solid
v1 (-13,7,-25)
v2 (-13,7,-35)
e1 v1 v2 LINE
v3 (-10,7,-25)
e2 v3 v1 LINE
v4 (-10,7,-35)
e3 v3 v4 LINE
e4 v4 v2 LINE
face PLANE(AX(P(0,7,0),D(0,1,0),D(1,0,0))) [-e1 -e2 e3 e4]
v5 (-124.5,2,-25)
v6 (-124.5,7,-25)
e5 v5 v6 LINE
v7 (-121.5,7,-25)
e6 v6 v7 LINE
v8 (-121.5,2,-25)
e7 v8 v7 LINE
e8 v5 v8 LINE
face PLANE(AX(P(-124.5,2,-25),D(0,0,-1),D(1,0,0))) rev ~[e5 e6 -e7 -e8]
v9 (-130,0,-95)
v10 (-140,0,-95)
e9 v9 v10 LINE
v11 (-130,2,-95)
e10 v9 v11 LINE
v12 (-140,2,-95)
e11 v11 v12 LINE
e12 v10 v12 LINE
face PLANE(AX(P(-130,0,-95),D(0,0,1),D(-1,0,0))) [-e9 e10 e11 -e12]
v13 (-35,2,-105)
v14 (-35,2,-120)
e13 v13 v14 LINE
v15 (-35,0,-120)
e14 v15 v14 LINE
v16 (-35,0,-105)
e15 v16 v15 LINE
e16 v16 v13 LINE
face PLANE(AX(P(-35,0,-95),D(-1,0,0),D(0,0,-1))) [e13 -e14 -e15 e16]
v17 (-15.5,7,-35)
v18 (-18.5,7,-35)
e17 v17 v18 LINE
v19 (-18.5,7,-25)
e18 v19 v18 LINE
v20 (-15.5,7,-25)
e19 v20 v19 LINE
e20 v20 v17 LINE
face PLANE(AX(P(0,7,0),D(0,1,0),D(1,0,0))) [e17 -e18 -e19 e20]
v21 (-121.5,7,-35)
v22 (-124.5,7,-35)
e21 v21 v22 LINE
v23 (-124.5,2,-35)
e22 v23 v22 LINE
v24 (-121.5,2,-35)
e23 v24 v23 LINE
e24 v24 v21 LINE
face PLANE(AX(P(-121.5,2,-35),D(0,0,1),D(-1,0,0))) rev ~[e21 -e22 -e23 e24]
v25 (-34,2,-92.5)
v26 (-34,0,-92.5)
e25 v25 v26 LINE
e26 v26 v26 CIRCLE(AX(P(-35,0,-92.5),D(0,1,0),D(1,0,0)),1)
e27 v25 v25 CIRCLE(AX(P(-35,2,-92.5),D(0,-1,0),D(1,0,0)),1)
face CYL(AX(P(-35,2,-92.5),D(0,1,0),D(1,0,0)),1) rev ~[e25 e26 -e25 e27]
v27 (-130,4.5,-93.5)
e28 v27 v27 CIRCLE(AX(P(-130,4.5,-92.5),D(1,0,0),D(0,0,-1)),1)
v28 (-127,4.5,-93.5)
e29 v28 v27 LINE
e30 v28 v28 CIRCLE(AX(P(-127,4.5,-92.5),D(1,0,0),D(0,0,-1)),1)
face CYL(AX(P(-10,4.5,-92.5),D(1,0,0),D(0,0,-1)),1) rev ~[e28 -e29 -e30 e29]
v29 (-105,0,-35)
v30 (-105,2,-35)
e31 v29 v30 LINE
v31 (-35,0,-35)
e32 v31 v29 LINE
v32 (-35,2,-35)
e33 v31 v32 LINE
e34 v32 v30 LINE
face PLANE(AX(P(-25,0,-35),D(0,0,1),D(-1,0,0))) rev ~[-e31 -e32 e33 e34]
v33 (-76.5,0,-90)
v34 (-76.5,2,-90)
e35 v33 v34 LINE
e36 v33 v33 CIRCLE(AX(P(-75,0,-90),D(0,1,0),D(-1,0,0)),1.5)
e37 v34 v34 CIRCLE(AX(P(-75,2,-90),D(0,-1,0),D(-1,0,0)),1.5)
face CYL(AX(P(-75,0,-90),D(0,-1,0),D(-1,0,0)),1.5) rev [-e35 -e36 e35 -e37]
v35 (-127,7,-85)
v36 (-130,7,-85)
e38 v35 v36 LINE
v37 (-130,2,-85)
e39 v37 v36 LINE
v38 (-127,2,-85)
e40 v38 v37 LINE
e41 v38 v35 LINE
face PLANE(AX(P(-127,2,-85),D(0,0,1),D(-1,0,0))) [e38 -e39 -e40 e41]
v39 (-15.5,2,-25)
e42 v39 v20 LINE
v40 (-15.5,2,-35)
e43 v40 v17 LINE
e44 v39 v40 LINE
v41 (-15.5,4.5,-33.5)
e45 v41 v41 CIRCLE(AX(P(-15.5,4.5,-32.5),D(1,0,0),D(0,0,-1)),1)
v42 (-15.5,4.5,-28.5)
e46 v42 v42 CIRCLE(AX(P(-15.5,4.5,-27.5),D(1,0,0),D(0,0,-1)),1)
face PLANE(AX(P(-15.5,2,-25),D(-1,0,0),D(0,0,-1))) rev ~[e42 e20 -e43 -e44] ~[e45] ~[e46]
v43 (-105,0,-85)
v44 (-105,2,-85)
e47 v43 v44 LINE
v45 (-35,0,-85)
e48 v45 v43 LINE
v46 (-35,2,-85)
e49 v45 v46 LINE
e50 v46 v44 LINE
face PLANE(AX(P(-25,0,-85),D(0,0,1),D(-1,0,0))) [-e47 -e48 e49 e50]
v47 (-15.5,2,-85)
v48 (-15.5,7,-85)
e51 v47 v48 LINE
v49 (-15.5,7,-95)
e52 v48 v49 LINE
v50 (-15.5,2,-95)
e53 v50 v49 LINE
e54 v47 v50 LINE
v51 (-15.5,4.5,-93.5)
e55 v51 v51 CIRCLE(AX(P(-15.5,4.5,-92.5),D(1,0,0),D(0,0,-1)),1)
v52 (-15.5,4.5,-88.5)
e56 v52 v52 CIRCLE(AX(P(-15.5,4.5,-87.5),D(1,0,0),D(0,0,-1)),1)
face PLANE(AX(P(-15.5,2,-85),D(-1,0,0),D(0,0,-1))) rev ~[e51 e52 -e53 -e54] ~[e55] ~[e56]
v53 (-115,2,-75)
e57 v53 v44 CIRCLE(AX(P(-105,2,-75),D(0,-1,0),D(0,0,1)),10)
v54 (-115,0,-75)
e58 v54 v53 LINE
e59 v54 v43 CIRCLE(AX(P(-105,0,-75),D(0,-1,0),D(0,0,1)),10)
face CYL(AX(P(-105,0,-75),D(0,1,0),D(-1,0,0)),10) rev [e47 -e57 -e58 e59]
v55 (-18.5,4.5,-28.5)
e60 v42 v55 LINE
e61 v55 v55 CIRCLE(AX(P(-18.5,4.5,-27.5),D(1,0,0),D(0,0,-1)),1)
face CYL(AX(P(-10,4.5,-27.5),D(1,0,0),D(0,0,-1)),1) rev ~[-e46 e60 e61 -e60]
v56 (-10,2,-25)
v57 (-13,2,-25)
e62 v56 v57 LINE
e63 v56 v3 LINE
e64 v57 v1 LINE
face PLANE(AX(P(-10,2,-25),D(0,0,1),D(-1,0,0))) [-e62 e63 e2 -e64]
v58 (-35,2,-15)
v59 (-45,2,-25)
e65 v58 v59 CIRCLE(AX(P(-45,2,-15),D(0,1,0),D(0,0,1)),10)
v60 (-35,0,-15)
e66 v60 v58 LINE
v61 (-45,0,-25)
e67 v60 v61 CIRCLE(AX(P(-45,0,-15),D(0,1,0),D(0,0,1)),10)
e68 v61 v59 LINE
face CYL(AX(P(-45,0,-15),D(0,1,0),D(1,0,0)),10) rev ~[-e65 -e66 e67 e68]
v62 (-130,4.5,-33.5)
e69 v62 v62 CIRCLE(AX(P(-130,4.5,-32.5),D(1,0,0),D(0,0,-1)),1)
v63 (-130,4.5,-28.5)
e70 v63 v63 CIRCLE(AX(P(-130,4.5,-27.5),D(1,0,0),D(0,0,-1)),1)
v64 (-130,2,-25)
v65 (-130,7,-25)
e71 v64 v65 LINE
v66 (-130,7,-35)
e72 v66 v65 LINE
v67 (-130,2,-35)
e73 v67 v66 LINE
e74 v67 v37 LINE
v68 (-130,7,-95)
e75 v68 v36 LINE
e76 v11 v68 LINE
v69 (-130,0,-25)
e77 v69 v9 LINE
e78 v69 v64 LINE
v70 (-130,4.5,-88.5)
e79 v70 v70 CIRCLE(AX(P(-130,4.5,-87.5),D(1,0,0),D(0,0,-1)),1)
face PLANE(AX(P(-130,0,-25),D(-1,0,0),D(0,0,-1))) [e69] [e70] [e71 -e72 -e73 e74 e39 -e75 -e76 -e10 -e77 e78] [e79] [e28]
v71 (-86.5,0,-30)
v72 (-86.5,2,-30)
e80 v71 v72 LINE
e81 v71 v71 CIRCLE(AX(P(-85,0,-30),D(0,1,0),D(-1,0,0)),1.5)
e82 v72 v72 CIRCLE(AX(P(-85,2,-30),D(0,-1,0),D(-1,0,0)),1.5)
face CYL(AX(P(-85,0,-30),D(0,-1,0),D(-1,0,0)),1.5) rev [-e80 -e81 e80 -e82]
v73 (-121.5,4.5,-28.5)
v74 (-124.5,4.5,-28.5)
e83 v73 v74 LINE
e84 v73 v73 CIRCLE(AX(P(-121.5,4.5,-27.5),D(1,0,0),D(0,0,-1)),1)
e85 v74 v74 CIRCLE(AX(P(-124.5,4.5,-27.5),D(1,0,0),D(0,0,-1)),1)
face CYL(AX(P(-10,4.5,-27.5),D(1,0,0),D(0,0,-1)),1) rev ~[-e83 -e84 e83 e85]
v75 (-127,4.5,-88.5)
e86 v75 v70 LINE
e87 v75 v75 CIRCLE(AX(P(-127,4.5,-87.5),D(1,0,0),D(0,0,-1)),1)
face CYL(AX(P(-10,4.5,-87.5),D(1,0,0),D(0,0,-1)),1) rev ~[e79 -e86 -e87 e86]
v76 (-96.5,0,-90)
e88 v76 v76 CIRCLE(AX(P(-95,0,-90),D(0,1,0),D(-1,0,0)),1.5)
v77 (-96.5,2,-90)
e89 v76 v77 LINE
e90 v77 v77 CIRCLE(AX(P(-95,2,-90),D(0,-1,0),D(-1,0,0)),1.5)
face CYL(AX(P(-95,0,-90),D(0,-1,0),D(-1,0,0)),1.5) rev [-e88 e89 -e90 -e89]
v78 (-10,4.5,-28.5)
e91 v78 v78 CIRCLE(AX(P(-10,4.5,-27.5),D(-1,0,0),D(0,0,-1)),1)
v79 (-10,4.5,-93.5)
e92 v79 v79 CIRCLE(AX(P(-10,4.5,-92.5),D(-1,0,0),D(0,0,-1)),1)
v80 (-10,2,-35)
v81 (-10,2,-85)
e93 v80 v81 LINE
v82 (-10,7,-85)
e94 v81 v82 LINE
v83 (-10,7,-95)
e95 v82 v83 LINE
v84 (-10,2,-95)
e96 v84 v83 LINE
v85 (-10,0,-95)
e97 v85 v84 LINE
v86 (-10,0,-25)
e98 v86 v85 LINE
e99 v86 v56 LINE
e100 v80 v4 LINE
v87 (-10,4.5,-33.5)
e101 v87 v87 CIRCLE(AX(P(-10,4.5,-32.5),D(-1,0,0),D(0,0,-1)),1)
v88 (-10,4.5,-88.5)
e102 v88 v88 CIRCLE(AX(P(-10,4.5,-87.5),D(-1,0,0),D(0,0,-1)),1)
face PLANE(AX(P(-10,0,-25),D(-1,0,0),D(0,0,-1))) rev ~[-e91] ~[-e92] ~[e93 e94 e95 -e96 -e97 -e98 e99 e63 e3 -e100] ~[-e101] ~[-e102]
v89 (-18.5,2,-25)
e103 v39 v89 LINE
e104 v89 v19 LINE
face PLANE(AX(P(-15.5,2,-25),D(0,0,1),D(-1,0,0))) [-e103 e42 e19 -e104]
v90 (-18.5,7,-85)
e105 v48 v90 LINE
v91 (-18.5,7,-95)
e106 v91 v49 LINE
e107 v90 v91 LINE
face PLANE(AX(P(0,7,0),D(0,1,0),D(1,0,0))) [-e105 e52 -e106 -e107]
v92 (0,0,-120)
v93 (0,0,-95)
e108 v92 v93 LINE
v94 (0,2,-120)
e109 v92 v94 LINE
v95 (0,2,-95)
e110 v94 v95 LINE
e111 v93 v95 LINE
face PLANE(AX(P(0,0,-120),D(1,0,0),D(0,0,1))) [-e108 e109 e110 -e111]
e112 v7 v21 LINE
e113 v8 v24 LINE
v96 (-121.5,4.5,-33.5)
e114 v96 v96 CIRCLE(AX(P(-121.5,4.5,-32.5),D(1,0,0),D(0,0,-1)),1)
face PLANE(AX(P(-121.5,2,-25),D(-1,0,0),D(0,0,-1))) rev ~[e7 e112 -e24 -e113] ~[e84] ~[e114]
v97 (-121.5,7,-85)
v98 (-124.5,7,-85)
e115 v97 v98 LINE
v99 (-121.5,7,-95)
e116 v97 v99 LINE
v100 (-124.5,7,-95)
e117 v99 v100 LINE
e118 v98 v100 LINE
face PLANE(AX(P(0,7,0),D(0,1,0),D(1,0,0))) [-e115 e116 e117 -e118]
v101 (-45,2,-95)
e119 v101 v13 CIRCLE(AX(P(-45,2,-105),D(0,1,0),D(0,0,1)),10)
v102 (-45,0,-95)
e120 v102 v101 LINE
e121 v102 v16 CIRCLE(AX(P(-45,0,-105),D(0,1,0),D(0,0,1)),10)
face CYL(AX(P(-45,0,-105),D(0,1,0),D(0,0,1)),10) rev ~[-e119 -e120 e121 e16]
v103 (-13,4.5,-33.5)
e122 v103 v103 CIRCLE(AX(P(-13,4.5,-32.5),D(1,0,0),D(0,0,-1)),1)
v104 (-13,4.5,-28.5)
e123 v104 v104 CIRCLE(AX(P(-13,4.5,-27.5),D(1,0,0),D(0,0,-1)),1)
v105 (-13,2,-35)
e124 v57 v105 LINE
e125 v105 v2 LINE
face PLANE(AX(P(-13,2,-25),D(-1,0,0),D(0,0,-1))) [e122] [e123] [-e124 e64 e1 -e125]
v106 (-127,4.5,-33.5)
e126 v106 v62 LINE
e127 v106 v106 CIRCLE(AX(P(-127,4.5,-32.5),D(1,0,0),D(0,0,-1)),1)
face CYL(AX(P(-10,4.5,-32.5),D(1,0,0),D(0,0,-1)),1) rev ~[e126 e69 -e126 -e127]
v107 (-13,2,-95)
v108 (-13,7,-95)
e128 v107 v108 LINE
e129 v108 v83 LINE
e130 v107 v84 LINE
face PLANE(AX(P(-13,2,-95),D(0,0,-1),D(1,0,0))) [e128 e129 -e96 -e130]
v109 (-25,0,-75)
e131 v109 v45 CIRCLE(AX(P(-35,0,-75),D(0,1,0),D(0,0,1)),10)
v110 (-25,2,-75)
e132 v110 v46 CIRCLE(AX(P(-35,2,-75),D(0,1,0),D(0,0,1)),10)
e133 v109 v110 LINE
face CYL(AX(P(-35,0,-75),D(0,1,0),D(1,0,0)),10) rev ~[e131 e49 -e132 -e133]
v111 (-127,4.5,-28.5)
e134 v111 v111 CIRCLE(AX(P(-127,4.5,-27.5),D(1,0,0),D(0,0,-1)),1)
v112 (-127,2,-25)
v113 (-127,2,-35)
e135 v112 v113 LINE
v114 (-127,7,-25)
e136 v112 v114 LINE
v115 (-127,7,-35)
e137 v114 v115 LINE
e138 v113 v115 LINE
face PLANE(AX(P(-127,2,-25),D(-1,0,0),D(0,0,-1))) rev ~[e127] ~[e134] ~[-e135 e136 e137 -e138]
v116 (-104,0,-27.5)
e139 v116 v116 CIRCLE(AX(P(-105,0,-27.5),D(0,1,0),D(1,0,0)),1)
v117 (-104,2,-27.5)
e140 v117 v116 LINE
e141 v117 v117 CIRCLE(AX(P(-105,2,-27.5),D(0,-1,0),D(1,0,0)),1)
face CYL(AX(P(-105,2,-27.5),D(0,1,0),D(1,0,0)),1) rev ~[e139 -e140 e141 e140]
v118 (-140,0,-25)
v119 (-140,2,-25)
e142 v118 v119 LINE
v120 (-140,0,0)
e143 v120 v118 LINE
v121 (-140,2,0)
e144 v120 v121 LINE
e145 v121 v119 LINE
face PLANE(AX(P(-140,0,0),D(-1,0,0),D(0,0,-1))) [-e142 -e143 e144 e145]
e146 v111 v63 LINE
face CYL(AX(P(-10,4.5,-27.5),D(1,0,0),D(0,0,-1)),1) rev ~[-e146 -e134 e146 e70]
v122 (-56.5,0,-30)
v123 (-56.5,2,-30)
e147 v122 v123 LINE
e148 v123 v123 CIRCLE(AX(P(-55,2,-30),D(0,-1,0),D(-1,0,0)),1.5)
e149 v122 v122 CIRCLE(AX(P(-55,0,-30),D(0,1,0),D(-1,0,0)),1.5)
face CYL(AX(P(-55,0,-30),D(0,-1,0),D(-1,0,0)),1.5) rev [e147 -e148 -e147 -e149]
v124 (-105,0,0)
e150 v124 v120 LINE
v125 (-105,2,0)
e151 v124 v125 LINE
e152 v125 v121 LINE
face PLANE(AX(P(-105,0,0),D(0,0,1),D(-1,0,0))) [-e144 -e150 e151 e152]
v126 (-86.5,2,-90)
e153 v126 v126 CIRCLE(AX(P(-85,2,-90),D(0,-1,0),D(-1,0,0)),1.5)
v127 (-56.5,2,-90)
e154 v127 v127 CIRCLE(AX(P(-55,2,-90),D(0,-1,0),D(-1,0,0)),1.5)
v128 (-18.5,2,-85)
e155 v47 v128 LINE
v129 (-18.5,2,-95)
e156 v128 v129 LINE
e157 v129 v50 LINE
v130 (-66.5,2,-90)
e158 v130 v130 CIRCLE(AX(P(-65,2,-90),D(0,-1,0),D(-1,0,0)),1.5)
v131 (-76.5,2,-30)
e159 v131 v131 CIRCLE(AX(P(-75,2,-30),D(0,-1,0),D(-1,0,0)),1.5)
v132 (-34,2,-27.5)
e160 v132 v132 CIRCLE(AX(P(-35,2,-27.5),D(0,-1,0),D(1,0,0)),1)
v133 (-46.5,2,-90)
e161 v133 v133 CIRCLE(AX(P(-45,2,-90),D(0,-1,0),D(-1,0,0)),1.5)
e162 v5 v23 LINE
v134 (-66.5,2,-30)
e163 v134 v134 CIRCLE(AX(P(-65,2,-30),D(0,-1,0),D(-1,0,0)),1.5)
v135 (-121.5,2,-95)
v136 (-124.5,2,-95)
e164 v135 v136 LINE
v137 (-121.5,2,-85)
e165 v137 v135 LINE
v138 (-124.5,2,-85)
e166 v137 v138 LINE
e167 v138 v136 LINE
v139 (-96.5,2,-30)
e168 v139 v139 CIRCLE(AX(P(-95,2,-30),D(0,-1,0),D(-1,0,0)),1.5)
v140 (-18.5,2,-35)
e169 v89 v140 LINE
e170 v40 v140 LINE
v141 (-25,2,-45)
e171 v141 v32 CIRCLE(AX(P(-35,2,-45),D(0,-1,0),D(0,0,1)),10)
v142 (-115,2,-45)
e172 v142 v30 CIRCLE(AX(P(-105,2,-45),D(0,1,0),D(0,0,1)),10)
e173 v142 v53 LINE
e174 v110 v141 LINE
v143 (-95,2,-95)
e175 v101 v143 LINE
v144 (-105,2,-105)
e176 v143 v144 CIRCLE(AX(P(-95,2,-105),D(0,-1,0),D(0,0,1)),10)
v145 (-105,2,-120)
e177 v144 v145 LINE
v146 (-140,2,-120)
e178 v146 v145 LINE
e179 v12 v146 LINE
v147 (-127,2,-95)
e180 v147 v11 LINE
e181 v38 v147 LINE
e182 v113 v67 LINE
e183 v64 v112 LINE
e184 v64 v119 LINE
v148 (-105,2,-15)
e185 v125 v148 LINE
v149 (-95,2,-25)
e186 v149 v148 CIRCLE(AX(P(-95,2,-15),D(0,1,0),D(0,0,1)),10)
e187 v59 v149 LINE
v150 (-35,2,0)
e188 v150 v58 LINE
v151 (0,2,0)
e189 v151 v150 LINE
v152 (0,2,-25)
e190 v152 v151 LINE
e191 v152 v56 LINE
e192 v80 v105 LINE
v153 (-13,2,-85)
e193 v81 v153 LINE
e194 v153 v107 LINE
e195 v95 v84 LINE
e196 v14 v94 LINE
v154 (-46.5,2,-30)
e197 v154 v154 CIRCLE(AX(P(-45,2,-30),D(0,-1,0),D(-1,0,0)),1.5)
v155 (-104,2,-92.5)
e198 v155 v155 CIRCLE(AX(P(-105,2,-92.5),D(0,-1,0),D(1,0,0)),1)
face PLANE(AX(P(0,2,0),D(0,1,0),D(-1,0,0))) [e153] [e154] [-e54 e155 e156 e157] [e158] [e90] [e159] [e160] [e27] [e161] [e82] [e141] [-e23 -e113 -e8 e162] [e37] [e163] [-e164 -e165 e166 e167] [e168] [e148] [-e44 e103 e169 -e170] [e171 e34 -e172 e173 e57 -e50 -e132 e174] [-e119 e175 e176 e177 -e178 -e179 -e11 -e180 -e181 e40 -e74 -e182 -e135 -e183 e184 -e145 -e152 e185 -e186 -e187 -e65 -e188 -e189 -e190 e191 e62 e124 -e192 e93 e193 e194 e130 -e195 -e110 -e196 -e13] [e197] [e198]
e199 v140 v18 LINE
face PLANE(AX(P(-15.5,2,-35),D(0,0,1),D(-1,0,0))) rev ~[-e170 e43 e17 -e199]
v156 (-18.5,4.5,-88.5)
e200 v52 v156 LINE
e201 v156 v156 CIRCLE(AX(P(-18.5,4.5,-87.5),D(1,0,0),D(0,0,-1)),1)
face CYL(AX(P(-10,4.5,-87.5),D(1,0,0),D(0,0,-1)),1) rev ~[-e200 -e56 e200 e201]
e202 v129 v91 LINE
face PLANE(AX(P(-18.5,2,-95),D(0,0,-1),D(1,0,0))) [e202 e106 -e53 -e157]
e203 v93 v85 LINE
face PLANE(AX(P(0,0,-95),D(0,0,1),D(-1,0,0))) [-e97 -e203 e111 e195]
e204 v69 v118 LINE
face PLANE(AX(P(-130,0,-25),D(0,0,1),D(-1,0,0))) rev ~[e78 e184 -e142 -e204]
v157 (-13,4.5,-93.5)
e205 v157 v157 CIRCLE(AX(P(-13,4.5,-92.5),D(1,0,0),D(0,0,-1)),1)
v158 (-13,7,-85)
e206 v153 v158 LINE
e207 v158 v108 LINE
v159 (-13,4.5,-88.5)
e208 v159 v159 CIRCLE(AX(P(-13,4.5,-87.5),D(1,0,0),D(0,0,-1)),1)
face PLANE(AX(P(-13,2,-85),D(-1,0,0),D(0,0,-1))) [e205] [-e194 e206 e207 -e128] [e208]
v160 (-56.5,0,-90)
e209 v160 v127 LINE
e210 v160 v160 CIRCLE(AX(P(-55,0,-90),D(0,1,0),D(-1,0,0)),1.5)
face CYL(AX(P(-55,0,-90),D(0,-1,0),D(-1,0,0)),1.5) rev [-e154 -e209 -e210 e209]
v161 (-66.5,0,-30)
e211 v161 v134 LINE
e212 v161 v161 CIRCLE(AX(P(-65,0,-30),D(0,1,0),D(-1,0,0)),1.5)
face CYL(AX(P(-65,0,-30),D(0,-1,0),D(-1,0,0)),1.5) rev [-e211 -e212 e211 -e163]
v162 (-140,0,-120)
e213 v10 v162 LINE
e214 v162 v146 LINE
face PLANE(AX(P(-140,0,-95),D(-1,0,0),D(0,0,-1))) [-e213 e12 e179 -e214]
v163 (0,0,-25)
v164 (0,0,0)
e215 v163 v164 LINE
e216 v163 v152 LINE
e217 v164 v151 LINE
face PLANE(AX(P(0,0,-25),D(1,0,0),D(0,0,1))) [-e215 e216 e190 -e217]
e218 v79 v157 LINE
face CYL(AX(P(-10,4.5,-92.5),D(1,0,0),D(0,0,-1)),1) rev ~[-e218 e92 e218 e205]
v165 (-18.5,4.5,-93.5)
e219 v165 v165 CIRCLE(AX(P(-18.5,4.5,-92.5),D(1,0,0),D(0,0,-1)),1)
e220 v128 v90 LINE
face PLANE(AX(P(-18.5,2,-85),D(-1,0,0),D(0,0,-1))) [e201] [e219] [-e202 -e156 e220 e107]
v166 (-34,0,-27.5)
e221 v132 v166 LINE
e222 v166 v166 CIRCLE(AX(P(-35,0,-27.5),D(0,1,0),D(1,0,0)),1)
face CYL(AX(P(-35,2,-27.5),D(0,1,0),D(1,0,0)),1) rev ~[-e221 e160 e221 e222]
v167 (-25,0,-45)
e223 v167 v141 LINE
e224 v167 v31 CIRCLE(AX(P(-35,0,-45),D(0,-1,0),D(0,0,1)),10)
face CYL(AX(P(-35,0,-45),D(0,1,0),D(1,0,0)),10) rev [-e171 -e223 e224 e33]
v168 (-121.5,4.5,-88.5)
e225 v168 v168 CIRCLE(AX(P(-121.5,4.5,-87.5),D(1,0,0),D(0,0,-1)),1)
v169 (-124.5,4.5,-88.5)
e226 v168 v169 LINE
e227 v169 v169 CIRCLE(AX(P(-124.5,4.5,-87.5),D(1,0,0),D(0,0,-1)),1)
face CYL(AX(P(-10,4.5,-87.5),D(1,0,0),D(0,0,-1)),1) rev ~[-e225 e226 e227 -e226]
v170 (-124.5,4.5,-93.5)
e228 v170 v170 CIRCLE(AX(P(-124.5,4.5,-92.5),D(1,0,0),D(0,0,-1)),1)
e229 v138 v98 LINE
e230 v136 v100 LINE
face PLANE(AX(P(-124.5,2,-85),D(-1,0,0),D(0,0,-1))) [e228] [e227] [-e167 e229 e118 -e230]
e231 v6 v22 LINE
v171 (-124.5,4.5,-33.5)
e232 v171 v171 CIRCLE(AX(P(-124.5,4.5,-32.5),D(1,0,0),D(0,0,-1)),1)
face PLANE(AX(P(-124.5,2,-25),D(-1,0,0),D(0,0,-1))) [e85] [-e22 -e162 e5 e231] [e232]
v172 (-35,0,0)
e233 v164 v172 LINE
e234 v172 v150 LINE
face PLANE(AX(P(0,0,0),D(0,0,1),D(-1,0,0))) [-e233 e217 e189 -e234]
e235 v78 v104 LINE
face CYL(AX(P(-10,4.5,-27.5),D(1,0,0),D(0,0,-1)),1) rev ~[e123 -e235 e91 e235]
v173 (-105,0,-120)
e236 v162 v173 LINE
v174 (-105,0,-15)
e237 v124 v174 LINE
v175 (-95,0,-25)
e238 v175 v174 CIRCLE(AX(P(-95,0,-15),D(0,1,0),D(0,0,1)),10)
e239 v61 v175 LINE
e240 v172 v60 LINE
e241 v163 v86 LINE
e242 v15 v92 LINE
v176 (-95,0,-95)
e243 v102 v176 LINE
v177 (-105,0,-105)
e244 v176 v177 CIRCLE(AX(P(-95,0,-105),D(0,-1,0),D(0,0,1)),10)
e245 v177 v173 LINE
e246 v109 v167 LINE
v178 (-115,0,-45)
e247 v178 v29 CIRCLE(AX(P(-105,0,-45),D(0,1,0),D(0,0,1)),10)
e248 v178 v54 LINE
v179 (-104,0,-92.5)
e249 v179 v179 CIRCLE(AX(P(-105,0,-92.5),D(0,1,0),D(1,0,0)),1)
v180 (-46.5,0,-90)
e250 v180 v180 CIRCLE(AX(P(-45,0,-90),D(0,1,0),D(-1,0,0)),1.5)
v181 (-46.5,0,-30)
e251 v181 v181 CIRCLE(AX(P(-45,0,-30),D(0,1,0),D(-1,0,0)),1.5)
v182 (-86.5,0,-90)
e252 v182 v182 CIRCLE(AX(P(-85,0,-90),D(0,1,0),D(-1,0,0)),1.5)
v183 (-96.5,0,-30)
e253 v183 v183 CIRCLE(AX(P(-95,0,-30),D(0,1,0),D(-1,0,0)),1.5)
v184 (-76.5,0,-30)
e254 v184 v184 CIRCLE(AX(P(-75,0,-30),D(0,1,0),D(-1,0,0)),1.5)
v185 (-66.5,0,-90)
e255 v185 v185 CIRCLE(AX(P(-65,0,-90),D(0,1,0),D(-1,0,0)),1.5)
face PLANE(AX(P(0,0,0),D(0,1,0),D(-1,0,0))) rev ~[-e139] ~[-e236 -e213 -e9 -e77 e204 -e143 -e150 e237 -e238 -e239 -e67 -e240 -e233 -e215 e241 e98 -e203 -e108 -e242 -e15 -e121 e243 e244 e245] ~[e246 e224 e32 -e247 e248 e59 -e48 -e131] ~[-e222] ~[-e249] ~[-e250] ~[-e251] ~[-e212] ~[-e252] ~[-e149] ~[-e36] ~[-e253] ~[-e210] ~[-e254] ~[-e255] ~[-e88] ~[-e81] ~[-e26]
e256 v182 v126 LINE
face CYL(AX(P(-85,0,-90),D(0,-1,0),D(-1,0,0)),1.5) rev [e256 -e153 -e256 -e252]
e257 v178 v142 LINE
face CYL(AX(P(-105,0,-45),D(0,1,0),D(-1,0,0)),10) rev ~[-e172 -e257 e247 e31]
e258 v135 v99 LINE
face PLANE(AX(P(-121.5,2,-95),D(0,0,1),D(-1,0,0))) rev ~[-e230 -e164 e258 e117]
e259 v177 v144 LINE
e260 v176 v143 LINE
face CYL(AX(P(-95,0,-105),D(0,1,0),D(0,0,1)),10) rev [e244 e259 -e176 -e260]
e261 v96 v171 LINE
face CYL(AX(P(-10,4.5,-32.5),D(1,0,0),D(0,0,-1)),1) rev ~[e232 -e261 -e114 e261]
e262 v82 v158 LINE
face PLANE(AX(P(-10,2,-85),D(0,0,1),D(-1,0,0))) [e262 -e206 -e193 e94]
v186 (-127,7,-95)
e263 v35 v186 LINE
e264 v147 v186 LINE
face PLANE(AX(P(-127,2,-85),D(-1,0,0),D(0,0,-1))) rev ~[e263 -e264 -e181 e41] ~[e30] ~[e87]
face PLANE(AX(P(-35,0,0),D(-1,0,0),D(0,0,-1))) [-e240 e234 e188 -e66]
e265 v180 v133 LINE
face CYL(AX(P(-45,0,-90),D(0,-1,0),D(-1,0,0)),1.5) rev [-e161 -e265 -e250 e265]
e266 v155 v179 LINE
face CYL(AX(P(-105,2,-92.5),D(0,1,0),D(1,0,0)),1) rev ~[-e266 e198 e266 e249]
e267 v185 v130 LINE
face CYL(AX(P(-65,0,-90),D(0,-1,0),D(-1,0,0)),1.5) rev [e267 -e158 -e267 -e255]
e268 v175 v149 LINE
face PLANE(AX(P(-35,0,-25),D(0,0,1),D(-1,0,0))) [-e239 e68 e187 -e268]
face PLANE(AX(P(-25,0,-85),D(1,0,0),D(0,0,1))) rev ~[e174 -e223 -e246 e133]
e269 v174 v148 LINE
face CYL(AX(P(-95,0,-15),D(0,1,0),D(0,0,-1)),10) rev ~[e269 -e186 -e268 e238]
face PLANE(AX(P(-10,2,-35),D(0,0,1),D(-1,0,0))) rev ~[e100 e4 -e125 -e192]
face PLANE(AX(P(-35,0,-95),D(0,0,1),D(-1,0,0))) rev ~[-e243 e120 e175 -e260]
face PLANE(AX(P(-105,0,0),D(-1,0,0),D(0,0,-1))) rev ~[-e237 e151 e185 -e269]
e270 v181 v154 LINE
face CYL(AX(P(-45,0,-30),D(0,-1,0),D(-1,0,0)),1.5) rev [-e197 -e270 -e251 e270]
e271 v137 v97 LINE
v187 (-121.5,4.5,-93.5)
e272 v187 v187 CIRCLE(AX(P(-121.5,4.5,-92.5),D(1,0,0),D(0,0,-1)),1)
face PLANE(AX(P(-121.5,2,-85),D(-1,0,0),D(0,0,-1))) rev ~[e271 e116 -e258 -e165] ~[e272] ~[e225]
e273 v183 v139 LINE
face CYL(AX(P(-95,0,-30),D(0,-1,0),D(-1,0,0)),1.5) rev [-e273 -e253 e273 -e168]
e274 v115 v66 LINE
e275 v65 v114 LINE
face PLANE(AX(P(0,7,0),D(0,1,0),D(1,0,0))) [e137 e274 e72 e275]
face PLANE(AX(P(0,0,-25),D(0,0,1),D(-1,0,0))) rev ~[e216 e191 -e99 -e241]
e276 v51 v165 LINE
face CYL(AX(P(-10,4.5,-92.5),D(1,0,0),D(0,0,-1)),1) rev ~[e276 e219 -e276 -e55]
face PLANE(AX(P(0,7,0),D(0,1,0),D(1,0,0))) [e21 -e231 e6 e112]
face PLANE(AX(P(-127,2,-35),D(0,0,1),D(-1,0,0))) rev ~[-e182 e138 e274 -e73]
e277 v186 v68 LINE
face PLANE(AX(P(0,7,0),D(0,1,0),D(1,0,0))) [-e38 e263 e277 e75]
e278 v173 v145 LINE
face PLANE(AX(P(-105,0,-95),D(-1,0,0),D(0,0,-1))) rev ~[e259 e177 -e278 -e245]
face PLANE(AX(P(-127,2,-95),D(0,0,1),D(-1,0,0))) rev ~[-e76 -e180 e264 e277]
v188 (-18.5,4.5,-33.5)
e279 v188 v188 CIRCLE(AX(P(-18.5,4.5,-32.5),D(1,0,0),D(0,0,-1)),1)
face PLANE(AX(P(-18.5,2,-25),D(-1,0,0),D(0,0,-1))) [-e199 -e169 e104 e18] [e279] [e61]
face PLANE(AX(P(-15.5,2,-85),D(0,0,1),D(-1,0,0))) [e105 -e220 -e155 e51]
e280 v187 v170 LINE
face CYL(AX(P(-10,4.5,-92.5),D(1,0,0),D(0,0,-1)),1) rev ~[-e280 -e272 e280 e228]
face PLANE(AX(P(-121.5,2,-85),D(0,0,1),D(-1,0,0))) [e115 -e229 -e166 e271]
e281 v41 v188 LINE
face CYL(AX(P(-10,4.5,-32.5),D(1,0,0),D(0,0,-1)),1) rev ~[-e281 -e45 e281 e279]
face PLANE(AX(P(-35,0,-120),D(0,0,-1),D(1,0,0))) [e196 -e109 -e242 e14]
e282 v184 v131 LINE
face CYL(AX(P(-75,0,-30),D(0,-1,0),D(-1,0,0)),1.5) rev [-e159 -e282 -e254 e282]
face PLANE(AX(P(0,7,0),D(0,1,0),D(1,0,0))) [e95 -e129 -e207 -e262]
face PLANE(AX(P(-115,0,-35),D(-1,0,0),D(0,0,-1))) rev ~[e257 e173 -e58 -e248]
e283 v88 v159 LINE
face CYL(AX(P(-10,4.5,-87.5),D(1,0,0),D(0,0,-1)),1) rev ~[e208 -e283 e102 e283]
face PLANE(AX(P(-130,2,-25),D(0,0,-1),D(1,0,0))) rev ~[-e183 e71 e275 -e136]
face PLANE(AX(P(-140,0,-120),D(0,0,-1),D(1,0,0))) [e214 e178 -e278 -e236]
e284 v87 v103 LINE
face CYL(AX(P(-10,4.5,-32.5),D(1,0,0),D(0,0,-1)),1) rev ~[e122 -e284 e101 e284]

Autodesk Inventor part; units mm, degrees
ref_plane "YZ Plane" through (0, 0, 0) normal (1, 0, 0) x (0, 1, 0)
ref_plane "XZ Plane" through (0, 0, 0) normal (0, 1, 0) x (-1, 0, 0)
ref_plane "XY Plane" through (0, 0, 0) normal (0, 0, 1) x (1, 0, 0)
sketch "Sketch1" plane through (0, 0, 0) normal (0, 1, 0) x (-1, 0, 0)
  line L0 (0, 0) -> (140, 0)
  line L1 (140, 0) -> (140, -120)
  line L2 (140, -120) -> (0, -120)
  line L3 (0, -120) -> (0, 0)
  line L4 (140, 0) -> (0, 0)
  line L5 (0, 0) -> (0, -25)
  line L6 (0, -25) -> (140, -25)
  line L7 (140, -25) -> (140, 0)
  line L8 (140, -120) -> (0, -120)
  line L9 (0, -120) -> (0, -95)
  line L10 (0, -95) -> (140, -95)
  line L11 (140, -95) -> (140, -120)
  line L12 (140, -25) -> (130, -25)
  line L13 (130, -25) -> (130, -95)
  line L14 (130, -95) -> (140, -95)
  line L15 (140, -95) -> (140, -25)
  line L16 (0, -25) -> (10, -25)
  line L17 (10, -25) -> (10, -95)
  line L18 (10, -95) -> (0, -95)
  line L19 (0, -95) -> (0, -25)
  line L20 (130, -25) -> (115, -25)
  line L21 (115, -25) -> (115, -95)
  line L22 (115, -95) -> (130, -95)
  line L23 (130, -95) -> (130, -25)
  line L24 (10, -95) -> (25, -95)
  line L25 (25, -95) -> (25, -25)
  line L26 (25, -25) -> (10, -25)
  line L27 (10, -25) -> (10, -95)
  line L28 (115, -25) -> (25, -25)
  line L29 (25, -25) -> (25, -35)
  line L30 (25, -35) -> (115, -35)
  line L31 (115, -35) -> (115, -25)
  line L32 (115, -95) -> (25, -95)
  line L33 (25, -95) -> (25, -85)
  line L34 (25, -85) -> (115, -85)
  line L35 (115, -85) -> (115, -95)
  line L36 (115, -30) -> (25, -30)
  line L37 (115, -90) -> (25, -90)
  line L38 (115, -30) -> (105, -30)
  line L39 (105, -30) -> (95, -30)
  line L40 (95, -30) -> (85, -30)
  line L41 (85, -30) -> (75, -30)
  line L42 (75, -30) -> (65, -30)
  line L43 (65, -30) -> (55, -30)
  line L44 (55, -30) -> (45, -30)
  line L45 (45, -30) -> (35, -30)
  line L46 (115, -90) -> (105, -90)
  line L47 (105, -90) -> (95, -90)
  line L48 (95, -90) -> (85, -90)
  line L49 (85, -90) -> (75, -90)
  line L50 (75, -90) -> (65, -90)
  line L51 (65, -90) -> (55, -90)
  line L52 (55, -90) -> (45, -90)
  line L53 (45, -90) -> (35, -90)
  line L54 (35, -90) -> (25, -90)
  circle A0 centre (105, -30) radius 1.5
  circle A1 centre (95, -30) radius 1.5
  circle A2 centre (85, -30) radius 1.5
  circle A3 centre (75, -30) radius 1.5
  circle A4 centre (65, -30) radius 1.5
  circle A5 centre (55, -30) radius 1.5
  circle A6 centre (45, -30) radius 1.5
  circle A7 centre (35, -30) radius 1.5
  circle A8 centre (105, -90) radius 1.5
  circle A9 centre (95, -90) radius 1.5
  circle A10 centre (85, -90) radius 1.5
  circle A11 centre (75, -90) radius 1.5
  circle A12 centre (65, -90) radius 1.5
  circle A13 centre (55, -90) radius 1.5
  circle A14 centre (45, -90) radius 1.5
  circle A15 centre (35, -90) radius 1.5
  line L55 (140, 0) -> (105, 0)
  line L56 (105, 0) -> (105, -25)
  line L57 (105, -25) -> (140, -25)
  line L58 (140, -25) -> (140, 0)
  line L59 (140, -95) -> (105, -95)
  line L60 (105, -95) -> (105, -120)
  line L61 (105, -120) -> (140, -120)
  line L62 (140, -120) -> (140, -95)
  line L63 (0, 0) -> (35, 0)
  line L64 (35, 0) -> (35, -25)
  line L65 (35, -25) -> (0, -25)
  line L66 (0, -25) -> (0, 0)
  line L67 (0, -95) -> (35, -95)
  line L68 (35, -95) -> (35, -120)
  line L69 (35, -120) -> (0, -120)
  line L70 (0, -120) -> (0, -95)
  dimension "d0" = 140
  dimension "d1" = 120
  dimension "d2" = 25
  dimension "d3" = 25
  dimension "d4" = 10
  dimension "d5" = 10
  dimension "d6" = 15
  dimension "d7" = 15
  dimension "d8" = 10
  dimension "d9" = 10
  dimension "d10" = 10
  dimension "d11" = 10
  dimension "d12" = 10
  dimension "d13" = 10
  dimension "d14" = 10
  dimension "d15" = 10
  dimension "d16" = 10
  dimension "d17" = 10
  dimension "d18" = 10
  dimension "d19" = 10
  dimension "d20" = 10
  dimension "d21" = 10
  dimension "d22" = 10
  dimension "d23" = 10
  dimension "d24" = 10
  dimension "d25" = 10
  dimension "d26" = 10
  dimension "d27" = 3
  dimension "d28" = 3
  dimension "d29" = 3
  dimension "d30" = 3
  dimension "d31" = 3
  dimension "d32" = 3
  dimension "d33" = 3
  dimension "d34" = 3
  dimension "d35" = 3
  dimension "d36" = 3
  dimension "d37" = 3
  dimension "d38" = 3
  dimension "d39" = 3
  dimension "d40" = 3
  dimension "d41" = 3
  dimension "d42" = 3
  dimension "d43" = 35
  dimension "d44" = 35
  dimension "d45" = 35
  dimension "d46" = 35
extrude "Extrusion1" add sketch "Sketch1" along normal blind 2 contours L0 L64 L6 L3 | L0 L1 L6 L56 | L6 L21 L36 A0 A1 A2 A3 A4 A5 A6 A7 L25 | L10 L68 L2 L3 | L6 L25 L10 L17 | L6 L13 L10 L21 | L36 A7 A6 A5 A4 A3 A2 A1 A0 L21 L30 L25 | L25 L37 A15 A14 A13 A12 A11 A10 A9 A8 L21 L10 | L1 L2 L60 L10 | A7 L36 | L36 A7 | L25 L34 L21 L37 A8 A9 A10 A11 A12 A13 A14 A15 | A0 L36 | L36 A0 | A15 L37 | L37 A15 | A8 L37 | L37 A8
fillet "Fillet1" radius 10 8 edges at (-105, 1, -25) (-115, 1, -85) (-25, 1, -85) (-25, 1, -35) (-115, 1, -35) (-35, 1, -95) (-105, 1, -95) (-35, 1, -25)
sketch "Sketch2" plane through (0, 2, 0) normal (0, 1, 0) x (1, 0, 0)
  line L0 (-130, 95) -> (-130, 25) projected
  line L1 (-130, 25) -> (-127, 25)
  line L2 (-127, 25) -> (-127, 95)
  line L3 (-127, 95) -> (-130, 95)
  line L4 (-130, 95) -> (-130, 25)
  line L5 (-127, 25) -> (-124.5, 25)
  line L6 (-124.5, 25) -> (-124.5, 95)
  line L7 (-124.5, 95) -> (-127, 95)
  line L8 (-127, 95) -> (-127, 25)
  line L9 (-124.5, 25) -> (-121.5, 25)
  line L10 (-121.5, 25) -> (-121.5, 95)
  line L11 (-121.5, 95) -> (-124.5, 95)
  line L12 (-124.5, 95) -> (-124.5, 25)
  line L13 (-10, 25) -> (-10, 95) projected
  line L14 (-10, 25) -> (-13, 25)
  line L15 (-13, 25) -> (-13, 95)
  line L16 (-13, 95) -> (-10, 95)
  line L17 (-10, 95) -> (-10, 25)
  line L18 (-13, 25) -> (-15.5, 25)
  line L19 (-15.5, 25) -> (-15.5, 95)
  line L20 (-15.5, 95) -> (-13, 95)
  line L21 (-13, 95) -> (-13, 25)
  line L22 (-15.5, 25) -> (-18.5, 25)
  line L23 (-18.5, 25) -> (-18.5, 95)
  line L24 (-18.5, 95) -> (-15.5, 95)
  line L25 (-15.5, 95) -> (-15.5, 25)
  line L26 (-130, 25) -> (-121.5, 25)
  line L27 (-121.5, 25) -> (-121.5, 35)
  line L28 (-121.5, 35) -> (-130, 35)
  line L29 (-130, 35) -> (-130, 25)
  line L30 (-130, 95) -> (-121.5, 95)
  line L31 (-121.5, 95) -> (-121.5, 85)
  line L32 (-121.5, 85) -> (-130, 85)
  line L33 (-130, 85) -> (-130, 95)
  line L34 (-18.5, 25) -> (-10, 25)
  line L35 (-10, 25) -> (-10, 35)
  line L36 (-10, 35) -> (-18.5, 35)
  line L37 (-18.5, 35) -> (-18.5, 25)
  line L38 (-18.5, 95) -> (-10, 95)
  line L39 (-10, 95) -> (-10, 85)
  line L40 (-10, 85) -> (-18.5, 85)
  line L41 (-18.5, 85) -> (-18.5, 95)
  line L42 (-130, 25) -> (-127, 25)
  line L43 (-127, 25) -> (-127, 35)
  line L44 (-127, 35) -> (-130, 35)
  line L45 (-130, 35) -> (-130, 25)
  line L46 (-18.5, 25) -> (-15.5, 25)
  line L47 (-15.5, 25) -> (-15.5, 35)
  line L48 (-15.5, 35) -> (-18.5, 35)
  line L49 (-18.5, 35) -> (-18.5, 25)
  point P0 (0, 0)
  point P1 (-124.5, 35)
  point P2 (-124.5, 85)
  point P3 (-127, 85)
  point P4 (-13, 35)
  point P5 (-13, 85)
  point P6 (-15.5, 85)
  dimension "d50" = 3
  dimension "d51" = 2.5
  dimension "d52" = 3
  dimension "d53" = 3
  dimension "d54" = 2.5
  dimension "d55" = 3
  dimension "d56" = 10
  dimension "d57" = 10
  dimension "d58" = 10
  dimension "d59" = 10
extrude "Extrusion2" add sketch "Sketch2" along normal blind 5 contours L3 L2 L32 L0 | L28 L2 L1 L0 | L11 L10 L32 L6 | L28 L10 L9 L6 | L14 L15 L36 L13 | L40 L15 L16 L13 | L22 L23 L36 L19 | L40 L23 L24 L19
sketch "Sketch3" plane through (-10, 0, -25) normal (1, 0, 0) x (0, 0, -1)
  line L0 (0, 7) -> (10, 7) projected
  line L1 (0, 7) -> (2.5, 7)
  line L2 (2.5, 7) -> (2.5, 4.5)
  line L3 (2.5, 4.5) -> (0, 4.5)
  line L4 (0, 4.5) -> (0, 7)
  line L5 (2.5, 4.5) -> (7.5, 4.5)
  circle A0 centre (2.5, 4.5) radius 1
  circle A1 centre (7.5, 4.5) radius 1
  line L6 (60, 7) -> (70, 7) projected
  line L7 (60, 7) -> (62.5, 7)
  line L8 (62.5, 7) -> (62.5, 4.5)
  line L9 (62.5, 4.5) -> (60, 4.5)
  line L10 (60, 4.5) -> (60, 7)
  line L11 (62.5, 4.5) -> (67.5, 4.5)
  circle A2 centre (67.5, 4.5) radius 1
  circle A3 centre (62.5, 4.5) radius 1
  point P0 (-25, 0)
  dimension "d62" = 2.5
  dimension "d63" = 2.5
  dimension "d64" = 5
  dimension "d65" = 2
  dimension "d66" = 2
  dimension "d67" = 2.5
  dimension "d68" = 2.5
  dimension "d69" = 5
  dimension "d70" = 2
  dimension "d71" = 2
extrude "Extrusion3" cut sketch "Sketch3" against normal up to surface (120 mm away) contours A1 | A0 L5 L2 | L2 L3 A0 | L3 L5 A0 | A2 | A3 L11 L8 | L8 L9 A3 | L9 L11 A3
sketch "Sketch4" plane through (0, 2, 0) normal (0, 1, 0) x (1, 0, 0)
  line L0 (0, 95) -> (0, 120) projected
  line L1 (0, 120) -> (-35, 120)
  line L2 (-35, 120) -> (-35, 92.5)
  line L3 (-35, 92.5) -> (0, 92.5)
  line L4 (0, 92.5) -> (0, 120)
  line L5 (-35, 0) -> (0, 0) projected
  line L6 (0, 0) -> (-35, 0)
  line L7 (-35, 0) -> (-35, 27.5)
  line L8 (-35, 27.5) -> (0, 27.5)
  line L9 (0, 27.5) -> (0, 0)
  line L10 (-140, 120) -> (-140, 95) projected
  line L11 (-140, 120) -> (-105, 120)
  line L12 (-105, 120) -> (-105, 92.5)
  line L13 (-105, 92.5) -> (-140, 92.5)
  line L14 (-140, 92.5) -> (-140, 120)
  line L15 (-140, 0) -> (-105, 0)
  line L16 (-105, 0) -> (-105, 27.5)
  line L17 (-105, 27.5) -> (-140, 27.5)
  line L18 (-140, 27.5) -> (-140, 0)
  circle A0 centre (-105, 27.5) radius 1
  circle A1 centre (-35, 27.5) radius 1
  circle A2 centre (-35, 92.5) radius 1
  circle A3 centre (-105, 92.5) radius 1
  dimension "d74" = 35
  dimension "d75" = 27.5
  dimension "d76" = 35
  dimension "d77" = 27.5
  dimension "d78" = 35
  dimension "d79" = 27.5
  dimension "d80" = 35
  dimension "d81" = 27.5
  dimension "d82" = 2
  dimension "d83" = 2
  dimension "d84" = 2
  dimension "d85" = 2
extrude "Extrusion4" cut sketch "Sketch4" against normal blind 10 contours A2 L2 L3 | L3 L2 A2 | A1 L8 L7 | L7 L8 A1 | A3 L13 L12 | L12 L13 A3 | A0 L17 L16 | L16 L17 A0
properties part number "base"
